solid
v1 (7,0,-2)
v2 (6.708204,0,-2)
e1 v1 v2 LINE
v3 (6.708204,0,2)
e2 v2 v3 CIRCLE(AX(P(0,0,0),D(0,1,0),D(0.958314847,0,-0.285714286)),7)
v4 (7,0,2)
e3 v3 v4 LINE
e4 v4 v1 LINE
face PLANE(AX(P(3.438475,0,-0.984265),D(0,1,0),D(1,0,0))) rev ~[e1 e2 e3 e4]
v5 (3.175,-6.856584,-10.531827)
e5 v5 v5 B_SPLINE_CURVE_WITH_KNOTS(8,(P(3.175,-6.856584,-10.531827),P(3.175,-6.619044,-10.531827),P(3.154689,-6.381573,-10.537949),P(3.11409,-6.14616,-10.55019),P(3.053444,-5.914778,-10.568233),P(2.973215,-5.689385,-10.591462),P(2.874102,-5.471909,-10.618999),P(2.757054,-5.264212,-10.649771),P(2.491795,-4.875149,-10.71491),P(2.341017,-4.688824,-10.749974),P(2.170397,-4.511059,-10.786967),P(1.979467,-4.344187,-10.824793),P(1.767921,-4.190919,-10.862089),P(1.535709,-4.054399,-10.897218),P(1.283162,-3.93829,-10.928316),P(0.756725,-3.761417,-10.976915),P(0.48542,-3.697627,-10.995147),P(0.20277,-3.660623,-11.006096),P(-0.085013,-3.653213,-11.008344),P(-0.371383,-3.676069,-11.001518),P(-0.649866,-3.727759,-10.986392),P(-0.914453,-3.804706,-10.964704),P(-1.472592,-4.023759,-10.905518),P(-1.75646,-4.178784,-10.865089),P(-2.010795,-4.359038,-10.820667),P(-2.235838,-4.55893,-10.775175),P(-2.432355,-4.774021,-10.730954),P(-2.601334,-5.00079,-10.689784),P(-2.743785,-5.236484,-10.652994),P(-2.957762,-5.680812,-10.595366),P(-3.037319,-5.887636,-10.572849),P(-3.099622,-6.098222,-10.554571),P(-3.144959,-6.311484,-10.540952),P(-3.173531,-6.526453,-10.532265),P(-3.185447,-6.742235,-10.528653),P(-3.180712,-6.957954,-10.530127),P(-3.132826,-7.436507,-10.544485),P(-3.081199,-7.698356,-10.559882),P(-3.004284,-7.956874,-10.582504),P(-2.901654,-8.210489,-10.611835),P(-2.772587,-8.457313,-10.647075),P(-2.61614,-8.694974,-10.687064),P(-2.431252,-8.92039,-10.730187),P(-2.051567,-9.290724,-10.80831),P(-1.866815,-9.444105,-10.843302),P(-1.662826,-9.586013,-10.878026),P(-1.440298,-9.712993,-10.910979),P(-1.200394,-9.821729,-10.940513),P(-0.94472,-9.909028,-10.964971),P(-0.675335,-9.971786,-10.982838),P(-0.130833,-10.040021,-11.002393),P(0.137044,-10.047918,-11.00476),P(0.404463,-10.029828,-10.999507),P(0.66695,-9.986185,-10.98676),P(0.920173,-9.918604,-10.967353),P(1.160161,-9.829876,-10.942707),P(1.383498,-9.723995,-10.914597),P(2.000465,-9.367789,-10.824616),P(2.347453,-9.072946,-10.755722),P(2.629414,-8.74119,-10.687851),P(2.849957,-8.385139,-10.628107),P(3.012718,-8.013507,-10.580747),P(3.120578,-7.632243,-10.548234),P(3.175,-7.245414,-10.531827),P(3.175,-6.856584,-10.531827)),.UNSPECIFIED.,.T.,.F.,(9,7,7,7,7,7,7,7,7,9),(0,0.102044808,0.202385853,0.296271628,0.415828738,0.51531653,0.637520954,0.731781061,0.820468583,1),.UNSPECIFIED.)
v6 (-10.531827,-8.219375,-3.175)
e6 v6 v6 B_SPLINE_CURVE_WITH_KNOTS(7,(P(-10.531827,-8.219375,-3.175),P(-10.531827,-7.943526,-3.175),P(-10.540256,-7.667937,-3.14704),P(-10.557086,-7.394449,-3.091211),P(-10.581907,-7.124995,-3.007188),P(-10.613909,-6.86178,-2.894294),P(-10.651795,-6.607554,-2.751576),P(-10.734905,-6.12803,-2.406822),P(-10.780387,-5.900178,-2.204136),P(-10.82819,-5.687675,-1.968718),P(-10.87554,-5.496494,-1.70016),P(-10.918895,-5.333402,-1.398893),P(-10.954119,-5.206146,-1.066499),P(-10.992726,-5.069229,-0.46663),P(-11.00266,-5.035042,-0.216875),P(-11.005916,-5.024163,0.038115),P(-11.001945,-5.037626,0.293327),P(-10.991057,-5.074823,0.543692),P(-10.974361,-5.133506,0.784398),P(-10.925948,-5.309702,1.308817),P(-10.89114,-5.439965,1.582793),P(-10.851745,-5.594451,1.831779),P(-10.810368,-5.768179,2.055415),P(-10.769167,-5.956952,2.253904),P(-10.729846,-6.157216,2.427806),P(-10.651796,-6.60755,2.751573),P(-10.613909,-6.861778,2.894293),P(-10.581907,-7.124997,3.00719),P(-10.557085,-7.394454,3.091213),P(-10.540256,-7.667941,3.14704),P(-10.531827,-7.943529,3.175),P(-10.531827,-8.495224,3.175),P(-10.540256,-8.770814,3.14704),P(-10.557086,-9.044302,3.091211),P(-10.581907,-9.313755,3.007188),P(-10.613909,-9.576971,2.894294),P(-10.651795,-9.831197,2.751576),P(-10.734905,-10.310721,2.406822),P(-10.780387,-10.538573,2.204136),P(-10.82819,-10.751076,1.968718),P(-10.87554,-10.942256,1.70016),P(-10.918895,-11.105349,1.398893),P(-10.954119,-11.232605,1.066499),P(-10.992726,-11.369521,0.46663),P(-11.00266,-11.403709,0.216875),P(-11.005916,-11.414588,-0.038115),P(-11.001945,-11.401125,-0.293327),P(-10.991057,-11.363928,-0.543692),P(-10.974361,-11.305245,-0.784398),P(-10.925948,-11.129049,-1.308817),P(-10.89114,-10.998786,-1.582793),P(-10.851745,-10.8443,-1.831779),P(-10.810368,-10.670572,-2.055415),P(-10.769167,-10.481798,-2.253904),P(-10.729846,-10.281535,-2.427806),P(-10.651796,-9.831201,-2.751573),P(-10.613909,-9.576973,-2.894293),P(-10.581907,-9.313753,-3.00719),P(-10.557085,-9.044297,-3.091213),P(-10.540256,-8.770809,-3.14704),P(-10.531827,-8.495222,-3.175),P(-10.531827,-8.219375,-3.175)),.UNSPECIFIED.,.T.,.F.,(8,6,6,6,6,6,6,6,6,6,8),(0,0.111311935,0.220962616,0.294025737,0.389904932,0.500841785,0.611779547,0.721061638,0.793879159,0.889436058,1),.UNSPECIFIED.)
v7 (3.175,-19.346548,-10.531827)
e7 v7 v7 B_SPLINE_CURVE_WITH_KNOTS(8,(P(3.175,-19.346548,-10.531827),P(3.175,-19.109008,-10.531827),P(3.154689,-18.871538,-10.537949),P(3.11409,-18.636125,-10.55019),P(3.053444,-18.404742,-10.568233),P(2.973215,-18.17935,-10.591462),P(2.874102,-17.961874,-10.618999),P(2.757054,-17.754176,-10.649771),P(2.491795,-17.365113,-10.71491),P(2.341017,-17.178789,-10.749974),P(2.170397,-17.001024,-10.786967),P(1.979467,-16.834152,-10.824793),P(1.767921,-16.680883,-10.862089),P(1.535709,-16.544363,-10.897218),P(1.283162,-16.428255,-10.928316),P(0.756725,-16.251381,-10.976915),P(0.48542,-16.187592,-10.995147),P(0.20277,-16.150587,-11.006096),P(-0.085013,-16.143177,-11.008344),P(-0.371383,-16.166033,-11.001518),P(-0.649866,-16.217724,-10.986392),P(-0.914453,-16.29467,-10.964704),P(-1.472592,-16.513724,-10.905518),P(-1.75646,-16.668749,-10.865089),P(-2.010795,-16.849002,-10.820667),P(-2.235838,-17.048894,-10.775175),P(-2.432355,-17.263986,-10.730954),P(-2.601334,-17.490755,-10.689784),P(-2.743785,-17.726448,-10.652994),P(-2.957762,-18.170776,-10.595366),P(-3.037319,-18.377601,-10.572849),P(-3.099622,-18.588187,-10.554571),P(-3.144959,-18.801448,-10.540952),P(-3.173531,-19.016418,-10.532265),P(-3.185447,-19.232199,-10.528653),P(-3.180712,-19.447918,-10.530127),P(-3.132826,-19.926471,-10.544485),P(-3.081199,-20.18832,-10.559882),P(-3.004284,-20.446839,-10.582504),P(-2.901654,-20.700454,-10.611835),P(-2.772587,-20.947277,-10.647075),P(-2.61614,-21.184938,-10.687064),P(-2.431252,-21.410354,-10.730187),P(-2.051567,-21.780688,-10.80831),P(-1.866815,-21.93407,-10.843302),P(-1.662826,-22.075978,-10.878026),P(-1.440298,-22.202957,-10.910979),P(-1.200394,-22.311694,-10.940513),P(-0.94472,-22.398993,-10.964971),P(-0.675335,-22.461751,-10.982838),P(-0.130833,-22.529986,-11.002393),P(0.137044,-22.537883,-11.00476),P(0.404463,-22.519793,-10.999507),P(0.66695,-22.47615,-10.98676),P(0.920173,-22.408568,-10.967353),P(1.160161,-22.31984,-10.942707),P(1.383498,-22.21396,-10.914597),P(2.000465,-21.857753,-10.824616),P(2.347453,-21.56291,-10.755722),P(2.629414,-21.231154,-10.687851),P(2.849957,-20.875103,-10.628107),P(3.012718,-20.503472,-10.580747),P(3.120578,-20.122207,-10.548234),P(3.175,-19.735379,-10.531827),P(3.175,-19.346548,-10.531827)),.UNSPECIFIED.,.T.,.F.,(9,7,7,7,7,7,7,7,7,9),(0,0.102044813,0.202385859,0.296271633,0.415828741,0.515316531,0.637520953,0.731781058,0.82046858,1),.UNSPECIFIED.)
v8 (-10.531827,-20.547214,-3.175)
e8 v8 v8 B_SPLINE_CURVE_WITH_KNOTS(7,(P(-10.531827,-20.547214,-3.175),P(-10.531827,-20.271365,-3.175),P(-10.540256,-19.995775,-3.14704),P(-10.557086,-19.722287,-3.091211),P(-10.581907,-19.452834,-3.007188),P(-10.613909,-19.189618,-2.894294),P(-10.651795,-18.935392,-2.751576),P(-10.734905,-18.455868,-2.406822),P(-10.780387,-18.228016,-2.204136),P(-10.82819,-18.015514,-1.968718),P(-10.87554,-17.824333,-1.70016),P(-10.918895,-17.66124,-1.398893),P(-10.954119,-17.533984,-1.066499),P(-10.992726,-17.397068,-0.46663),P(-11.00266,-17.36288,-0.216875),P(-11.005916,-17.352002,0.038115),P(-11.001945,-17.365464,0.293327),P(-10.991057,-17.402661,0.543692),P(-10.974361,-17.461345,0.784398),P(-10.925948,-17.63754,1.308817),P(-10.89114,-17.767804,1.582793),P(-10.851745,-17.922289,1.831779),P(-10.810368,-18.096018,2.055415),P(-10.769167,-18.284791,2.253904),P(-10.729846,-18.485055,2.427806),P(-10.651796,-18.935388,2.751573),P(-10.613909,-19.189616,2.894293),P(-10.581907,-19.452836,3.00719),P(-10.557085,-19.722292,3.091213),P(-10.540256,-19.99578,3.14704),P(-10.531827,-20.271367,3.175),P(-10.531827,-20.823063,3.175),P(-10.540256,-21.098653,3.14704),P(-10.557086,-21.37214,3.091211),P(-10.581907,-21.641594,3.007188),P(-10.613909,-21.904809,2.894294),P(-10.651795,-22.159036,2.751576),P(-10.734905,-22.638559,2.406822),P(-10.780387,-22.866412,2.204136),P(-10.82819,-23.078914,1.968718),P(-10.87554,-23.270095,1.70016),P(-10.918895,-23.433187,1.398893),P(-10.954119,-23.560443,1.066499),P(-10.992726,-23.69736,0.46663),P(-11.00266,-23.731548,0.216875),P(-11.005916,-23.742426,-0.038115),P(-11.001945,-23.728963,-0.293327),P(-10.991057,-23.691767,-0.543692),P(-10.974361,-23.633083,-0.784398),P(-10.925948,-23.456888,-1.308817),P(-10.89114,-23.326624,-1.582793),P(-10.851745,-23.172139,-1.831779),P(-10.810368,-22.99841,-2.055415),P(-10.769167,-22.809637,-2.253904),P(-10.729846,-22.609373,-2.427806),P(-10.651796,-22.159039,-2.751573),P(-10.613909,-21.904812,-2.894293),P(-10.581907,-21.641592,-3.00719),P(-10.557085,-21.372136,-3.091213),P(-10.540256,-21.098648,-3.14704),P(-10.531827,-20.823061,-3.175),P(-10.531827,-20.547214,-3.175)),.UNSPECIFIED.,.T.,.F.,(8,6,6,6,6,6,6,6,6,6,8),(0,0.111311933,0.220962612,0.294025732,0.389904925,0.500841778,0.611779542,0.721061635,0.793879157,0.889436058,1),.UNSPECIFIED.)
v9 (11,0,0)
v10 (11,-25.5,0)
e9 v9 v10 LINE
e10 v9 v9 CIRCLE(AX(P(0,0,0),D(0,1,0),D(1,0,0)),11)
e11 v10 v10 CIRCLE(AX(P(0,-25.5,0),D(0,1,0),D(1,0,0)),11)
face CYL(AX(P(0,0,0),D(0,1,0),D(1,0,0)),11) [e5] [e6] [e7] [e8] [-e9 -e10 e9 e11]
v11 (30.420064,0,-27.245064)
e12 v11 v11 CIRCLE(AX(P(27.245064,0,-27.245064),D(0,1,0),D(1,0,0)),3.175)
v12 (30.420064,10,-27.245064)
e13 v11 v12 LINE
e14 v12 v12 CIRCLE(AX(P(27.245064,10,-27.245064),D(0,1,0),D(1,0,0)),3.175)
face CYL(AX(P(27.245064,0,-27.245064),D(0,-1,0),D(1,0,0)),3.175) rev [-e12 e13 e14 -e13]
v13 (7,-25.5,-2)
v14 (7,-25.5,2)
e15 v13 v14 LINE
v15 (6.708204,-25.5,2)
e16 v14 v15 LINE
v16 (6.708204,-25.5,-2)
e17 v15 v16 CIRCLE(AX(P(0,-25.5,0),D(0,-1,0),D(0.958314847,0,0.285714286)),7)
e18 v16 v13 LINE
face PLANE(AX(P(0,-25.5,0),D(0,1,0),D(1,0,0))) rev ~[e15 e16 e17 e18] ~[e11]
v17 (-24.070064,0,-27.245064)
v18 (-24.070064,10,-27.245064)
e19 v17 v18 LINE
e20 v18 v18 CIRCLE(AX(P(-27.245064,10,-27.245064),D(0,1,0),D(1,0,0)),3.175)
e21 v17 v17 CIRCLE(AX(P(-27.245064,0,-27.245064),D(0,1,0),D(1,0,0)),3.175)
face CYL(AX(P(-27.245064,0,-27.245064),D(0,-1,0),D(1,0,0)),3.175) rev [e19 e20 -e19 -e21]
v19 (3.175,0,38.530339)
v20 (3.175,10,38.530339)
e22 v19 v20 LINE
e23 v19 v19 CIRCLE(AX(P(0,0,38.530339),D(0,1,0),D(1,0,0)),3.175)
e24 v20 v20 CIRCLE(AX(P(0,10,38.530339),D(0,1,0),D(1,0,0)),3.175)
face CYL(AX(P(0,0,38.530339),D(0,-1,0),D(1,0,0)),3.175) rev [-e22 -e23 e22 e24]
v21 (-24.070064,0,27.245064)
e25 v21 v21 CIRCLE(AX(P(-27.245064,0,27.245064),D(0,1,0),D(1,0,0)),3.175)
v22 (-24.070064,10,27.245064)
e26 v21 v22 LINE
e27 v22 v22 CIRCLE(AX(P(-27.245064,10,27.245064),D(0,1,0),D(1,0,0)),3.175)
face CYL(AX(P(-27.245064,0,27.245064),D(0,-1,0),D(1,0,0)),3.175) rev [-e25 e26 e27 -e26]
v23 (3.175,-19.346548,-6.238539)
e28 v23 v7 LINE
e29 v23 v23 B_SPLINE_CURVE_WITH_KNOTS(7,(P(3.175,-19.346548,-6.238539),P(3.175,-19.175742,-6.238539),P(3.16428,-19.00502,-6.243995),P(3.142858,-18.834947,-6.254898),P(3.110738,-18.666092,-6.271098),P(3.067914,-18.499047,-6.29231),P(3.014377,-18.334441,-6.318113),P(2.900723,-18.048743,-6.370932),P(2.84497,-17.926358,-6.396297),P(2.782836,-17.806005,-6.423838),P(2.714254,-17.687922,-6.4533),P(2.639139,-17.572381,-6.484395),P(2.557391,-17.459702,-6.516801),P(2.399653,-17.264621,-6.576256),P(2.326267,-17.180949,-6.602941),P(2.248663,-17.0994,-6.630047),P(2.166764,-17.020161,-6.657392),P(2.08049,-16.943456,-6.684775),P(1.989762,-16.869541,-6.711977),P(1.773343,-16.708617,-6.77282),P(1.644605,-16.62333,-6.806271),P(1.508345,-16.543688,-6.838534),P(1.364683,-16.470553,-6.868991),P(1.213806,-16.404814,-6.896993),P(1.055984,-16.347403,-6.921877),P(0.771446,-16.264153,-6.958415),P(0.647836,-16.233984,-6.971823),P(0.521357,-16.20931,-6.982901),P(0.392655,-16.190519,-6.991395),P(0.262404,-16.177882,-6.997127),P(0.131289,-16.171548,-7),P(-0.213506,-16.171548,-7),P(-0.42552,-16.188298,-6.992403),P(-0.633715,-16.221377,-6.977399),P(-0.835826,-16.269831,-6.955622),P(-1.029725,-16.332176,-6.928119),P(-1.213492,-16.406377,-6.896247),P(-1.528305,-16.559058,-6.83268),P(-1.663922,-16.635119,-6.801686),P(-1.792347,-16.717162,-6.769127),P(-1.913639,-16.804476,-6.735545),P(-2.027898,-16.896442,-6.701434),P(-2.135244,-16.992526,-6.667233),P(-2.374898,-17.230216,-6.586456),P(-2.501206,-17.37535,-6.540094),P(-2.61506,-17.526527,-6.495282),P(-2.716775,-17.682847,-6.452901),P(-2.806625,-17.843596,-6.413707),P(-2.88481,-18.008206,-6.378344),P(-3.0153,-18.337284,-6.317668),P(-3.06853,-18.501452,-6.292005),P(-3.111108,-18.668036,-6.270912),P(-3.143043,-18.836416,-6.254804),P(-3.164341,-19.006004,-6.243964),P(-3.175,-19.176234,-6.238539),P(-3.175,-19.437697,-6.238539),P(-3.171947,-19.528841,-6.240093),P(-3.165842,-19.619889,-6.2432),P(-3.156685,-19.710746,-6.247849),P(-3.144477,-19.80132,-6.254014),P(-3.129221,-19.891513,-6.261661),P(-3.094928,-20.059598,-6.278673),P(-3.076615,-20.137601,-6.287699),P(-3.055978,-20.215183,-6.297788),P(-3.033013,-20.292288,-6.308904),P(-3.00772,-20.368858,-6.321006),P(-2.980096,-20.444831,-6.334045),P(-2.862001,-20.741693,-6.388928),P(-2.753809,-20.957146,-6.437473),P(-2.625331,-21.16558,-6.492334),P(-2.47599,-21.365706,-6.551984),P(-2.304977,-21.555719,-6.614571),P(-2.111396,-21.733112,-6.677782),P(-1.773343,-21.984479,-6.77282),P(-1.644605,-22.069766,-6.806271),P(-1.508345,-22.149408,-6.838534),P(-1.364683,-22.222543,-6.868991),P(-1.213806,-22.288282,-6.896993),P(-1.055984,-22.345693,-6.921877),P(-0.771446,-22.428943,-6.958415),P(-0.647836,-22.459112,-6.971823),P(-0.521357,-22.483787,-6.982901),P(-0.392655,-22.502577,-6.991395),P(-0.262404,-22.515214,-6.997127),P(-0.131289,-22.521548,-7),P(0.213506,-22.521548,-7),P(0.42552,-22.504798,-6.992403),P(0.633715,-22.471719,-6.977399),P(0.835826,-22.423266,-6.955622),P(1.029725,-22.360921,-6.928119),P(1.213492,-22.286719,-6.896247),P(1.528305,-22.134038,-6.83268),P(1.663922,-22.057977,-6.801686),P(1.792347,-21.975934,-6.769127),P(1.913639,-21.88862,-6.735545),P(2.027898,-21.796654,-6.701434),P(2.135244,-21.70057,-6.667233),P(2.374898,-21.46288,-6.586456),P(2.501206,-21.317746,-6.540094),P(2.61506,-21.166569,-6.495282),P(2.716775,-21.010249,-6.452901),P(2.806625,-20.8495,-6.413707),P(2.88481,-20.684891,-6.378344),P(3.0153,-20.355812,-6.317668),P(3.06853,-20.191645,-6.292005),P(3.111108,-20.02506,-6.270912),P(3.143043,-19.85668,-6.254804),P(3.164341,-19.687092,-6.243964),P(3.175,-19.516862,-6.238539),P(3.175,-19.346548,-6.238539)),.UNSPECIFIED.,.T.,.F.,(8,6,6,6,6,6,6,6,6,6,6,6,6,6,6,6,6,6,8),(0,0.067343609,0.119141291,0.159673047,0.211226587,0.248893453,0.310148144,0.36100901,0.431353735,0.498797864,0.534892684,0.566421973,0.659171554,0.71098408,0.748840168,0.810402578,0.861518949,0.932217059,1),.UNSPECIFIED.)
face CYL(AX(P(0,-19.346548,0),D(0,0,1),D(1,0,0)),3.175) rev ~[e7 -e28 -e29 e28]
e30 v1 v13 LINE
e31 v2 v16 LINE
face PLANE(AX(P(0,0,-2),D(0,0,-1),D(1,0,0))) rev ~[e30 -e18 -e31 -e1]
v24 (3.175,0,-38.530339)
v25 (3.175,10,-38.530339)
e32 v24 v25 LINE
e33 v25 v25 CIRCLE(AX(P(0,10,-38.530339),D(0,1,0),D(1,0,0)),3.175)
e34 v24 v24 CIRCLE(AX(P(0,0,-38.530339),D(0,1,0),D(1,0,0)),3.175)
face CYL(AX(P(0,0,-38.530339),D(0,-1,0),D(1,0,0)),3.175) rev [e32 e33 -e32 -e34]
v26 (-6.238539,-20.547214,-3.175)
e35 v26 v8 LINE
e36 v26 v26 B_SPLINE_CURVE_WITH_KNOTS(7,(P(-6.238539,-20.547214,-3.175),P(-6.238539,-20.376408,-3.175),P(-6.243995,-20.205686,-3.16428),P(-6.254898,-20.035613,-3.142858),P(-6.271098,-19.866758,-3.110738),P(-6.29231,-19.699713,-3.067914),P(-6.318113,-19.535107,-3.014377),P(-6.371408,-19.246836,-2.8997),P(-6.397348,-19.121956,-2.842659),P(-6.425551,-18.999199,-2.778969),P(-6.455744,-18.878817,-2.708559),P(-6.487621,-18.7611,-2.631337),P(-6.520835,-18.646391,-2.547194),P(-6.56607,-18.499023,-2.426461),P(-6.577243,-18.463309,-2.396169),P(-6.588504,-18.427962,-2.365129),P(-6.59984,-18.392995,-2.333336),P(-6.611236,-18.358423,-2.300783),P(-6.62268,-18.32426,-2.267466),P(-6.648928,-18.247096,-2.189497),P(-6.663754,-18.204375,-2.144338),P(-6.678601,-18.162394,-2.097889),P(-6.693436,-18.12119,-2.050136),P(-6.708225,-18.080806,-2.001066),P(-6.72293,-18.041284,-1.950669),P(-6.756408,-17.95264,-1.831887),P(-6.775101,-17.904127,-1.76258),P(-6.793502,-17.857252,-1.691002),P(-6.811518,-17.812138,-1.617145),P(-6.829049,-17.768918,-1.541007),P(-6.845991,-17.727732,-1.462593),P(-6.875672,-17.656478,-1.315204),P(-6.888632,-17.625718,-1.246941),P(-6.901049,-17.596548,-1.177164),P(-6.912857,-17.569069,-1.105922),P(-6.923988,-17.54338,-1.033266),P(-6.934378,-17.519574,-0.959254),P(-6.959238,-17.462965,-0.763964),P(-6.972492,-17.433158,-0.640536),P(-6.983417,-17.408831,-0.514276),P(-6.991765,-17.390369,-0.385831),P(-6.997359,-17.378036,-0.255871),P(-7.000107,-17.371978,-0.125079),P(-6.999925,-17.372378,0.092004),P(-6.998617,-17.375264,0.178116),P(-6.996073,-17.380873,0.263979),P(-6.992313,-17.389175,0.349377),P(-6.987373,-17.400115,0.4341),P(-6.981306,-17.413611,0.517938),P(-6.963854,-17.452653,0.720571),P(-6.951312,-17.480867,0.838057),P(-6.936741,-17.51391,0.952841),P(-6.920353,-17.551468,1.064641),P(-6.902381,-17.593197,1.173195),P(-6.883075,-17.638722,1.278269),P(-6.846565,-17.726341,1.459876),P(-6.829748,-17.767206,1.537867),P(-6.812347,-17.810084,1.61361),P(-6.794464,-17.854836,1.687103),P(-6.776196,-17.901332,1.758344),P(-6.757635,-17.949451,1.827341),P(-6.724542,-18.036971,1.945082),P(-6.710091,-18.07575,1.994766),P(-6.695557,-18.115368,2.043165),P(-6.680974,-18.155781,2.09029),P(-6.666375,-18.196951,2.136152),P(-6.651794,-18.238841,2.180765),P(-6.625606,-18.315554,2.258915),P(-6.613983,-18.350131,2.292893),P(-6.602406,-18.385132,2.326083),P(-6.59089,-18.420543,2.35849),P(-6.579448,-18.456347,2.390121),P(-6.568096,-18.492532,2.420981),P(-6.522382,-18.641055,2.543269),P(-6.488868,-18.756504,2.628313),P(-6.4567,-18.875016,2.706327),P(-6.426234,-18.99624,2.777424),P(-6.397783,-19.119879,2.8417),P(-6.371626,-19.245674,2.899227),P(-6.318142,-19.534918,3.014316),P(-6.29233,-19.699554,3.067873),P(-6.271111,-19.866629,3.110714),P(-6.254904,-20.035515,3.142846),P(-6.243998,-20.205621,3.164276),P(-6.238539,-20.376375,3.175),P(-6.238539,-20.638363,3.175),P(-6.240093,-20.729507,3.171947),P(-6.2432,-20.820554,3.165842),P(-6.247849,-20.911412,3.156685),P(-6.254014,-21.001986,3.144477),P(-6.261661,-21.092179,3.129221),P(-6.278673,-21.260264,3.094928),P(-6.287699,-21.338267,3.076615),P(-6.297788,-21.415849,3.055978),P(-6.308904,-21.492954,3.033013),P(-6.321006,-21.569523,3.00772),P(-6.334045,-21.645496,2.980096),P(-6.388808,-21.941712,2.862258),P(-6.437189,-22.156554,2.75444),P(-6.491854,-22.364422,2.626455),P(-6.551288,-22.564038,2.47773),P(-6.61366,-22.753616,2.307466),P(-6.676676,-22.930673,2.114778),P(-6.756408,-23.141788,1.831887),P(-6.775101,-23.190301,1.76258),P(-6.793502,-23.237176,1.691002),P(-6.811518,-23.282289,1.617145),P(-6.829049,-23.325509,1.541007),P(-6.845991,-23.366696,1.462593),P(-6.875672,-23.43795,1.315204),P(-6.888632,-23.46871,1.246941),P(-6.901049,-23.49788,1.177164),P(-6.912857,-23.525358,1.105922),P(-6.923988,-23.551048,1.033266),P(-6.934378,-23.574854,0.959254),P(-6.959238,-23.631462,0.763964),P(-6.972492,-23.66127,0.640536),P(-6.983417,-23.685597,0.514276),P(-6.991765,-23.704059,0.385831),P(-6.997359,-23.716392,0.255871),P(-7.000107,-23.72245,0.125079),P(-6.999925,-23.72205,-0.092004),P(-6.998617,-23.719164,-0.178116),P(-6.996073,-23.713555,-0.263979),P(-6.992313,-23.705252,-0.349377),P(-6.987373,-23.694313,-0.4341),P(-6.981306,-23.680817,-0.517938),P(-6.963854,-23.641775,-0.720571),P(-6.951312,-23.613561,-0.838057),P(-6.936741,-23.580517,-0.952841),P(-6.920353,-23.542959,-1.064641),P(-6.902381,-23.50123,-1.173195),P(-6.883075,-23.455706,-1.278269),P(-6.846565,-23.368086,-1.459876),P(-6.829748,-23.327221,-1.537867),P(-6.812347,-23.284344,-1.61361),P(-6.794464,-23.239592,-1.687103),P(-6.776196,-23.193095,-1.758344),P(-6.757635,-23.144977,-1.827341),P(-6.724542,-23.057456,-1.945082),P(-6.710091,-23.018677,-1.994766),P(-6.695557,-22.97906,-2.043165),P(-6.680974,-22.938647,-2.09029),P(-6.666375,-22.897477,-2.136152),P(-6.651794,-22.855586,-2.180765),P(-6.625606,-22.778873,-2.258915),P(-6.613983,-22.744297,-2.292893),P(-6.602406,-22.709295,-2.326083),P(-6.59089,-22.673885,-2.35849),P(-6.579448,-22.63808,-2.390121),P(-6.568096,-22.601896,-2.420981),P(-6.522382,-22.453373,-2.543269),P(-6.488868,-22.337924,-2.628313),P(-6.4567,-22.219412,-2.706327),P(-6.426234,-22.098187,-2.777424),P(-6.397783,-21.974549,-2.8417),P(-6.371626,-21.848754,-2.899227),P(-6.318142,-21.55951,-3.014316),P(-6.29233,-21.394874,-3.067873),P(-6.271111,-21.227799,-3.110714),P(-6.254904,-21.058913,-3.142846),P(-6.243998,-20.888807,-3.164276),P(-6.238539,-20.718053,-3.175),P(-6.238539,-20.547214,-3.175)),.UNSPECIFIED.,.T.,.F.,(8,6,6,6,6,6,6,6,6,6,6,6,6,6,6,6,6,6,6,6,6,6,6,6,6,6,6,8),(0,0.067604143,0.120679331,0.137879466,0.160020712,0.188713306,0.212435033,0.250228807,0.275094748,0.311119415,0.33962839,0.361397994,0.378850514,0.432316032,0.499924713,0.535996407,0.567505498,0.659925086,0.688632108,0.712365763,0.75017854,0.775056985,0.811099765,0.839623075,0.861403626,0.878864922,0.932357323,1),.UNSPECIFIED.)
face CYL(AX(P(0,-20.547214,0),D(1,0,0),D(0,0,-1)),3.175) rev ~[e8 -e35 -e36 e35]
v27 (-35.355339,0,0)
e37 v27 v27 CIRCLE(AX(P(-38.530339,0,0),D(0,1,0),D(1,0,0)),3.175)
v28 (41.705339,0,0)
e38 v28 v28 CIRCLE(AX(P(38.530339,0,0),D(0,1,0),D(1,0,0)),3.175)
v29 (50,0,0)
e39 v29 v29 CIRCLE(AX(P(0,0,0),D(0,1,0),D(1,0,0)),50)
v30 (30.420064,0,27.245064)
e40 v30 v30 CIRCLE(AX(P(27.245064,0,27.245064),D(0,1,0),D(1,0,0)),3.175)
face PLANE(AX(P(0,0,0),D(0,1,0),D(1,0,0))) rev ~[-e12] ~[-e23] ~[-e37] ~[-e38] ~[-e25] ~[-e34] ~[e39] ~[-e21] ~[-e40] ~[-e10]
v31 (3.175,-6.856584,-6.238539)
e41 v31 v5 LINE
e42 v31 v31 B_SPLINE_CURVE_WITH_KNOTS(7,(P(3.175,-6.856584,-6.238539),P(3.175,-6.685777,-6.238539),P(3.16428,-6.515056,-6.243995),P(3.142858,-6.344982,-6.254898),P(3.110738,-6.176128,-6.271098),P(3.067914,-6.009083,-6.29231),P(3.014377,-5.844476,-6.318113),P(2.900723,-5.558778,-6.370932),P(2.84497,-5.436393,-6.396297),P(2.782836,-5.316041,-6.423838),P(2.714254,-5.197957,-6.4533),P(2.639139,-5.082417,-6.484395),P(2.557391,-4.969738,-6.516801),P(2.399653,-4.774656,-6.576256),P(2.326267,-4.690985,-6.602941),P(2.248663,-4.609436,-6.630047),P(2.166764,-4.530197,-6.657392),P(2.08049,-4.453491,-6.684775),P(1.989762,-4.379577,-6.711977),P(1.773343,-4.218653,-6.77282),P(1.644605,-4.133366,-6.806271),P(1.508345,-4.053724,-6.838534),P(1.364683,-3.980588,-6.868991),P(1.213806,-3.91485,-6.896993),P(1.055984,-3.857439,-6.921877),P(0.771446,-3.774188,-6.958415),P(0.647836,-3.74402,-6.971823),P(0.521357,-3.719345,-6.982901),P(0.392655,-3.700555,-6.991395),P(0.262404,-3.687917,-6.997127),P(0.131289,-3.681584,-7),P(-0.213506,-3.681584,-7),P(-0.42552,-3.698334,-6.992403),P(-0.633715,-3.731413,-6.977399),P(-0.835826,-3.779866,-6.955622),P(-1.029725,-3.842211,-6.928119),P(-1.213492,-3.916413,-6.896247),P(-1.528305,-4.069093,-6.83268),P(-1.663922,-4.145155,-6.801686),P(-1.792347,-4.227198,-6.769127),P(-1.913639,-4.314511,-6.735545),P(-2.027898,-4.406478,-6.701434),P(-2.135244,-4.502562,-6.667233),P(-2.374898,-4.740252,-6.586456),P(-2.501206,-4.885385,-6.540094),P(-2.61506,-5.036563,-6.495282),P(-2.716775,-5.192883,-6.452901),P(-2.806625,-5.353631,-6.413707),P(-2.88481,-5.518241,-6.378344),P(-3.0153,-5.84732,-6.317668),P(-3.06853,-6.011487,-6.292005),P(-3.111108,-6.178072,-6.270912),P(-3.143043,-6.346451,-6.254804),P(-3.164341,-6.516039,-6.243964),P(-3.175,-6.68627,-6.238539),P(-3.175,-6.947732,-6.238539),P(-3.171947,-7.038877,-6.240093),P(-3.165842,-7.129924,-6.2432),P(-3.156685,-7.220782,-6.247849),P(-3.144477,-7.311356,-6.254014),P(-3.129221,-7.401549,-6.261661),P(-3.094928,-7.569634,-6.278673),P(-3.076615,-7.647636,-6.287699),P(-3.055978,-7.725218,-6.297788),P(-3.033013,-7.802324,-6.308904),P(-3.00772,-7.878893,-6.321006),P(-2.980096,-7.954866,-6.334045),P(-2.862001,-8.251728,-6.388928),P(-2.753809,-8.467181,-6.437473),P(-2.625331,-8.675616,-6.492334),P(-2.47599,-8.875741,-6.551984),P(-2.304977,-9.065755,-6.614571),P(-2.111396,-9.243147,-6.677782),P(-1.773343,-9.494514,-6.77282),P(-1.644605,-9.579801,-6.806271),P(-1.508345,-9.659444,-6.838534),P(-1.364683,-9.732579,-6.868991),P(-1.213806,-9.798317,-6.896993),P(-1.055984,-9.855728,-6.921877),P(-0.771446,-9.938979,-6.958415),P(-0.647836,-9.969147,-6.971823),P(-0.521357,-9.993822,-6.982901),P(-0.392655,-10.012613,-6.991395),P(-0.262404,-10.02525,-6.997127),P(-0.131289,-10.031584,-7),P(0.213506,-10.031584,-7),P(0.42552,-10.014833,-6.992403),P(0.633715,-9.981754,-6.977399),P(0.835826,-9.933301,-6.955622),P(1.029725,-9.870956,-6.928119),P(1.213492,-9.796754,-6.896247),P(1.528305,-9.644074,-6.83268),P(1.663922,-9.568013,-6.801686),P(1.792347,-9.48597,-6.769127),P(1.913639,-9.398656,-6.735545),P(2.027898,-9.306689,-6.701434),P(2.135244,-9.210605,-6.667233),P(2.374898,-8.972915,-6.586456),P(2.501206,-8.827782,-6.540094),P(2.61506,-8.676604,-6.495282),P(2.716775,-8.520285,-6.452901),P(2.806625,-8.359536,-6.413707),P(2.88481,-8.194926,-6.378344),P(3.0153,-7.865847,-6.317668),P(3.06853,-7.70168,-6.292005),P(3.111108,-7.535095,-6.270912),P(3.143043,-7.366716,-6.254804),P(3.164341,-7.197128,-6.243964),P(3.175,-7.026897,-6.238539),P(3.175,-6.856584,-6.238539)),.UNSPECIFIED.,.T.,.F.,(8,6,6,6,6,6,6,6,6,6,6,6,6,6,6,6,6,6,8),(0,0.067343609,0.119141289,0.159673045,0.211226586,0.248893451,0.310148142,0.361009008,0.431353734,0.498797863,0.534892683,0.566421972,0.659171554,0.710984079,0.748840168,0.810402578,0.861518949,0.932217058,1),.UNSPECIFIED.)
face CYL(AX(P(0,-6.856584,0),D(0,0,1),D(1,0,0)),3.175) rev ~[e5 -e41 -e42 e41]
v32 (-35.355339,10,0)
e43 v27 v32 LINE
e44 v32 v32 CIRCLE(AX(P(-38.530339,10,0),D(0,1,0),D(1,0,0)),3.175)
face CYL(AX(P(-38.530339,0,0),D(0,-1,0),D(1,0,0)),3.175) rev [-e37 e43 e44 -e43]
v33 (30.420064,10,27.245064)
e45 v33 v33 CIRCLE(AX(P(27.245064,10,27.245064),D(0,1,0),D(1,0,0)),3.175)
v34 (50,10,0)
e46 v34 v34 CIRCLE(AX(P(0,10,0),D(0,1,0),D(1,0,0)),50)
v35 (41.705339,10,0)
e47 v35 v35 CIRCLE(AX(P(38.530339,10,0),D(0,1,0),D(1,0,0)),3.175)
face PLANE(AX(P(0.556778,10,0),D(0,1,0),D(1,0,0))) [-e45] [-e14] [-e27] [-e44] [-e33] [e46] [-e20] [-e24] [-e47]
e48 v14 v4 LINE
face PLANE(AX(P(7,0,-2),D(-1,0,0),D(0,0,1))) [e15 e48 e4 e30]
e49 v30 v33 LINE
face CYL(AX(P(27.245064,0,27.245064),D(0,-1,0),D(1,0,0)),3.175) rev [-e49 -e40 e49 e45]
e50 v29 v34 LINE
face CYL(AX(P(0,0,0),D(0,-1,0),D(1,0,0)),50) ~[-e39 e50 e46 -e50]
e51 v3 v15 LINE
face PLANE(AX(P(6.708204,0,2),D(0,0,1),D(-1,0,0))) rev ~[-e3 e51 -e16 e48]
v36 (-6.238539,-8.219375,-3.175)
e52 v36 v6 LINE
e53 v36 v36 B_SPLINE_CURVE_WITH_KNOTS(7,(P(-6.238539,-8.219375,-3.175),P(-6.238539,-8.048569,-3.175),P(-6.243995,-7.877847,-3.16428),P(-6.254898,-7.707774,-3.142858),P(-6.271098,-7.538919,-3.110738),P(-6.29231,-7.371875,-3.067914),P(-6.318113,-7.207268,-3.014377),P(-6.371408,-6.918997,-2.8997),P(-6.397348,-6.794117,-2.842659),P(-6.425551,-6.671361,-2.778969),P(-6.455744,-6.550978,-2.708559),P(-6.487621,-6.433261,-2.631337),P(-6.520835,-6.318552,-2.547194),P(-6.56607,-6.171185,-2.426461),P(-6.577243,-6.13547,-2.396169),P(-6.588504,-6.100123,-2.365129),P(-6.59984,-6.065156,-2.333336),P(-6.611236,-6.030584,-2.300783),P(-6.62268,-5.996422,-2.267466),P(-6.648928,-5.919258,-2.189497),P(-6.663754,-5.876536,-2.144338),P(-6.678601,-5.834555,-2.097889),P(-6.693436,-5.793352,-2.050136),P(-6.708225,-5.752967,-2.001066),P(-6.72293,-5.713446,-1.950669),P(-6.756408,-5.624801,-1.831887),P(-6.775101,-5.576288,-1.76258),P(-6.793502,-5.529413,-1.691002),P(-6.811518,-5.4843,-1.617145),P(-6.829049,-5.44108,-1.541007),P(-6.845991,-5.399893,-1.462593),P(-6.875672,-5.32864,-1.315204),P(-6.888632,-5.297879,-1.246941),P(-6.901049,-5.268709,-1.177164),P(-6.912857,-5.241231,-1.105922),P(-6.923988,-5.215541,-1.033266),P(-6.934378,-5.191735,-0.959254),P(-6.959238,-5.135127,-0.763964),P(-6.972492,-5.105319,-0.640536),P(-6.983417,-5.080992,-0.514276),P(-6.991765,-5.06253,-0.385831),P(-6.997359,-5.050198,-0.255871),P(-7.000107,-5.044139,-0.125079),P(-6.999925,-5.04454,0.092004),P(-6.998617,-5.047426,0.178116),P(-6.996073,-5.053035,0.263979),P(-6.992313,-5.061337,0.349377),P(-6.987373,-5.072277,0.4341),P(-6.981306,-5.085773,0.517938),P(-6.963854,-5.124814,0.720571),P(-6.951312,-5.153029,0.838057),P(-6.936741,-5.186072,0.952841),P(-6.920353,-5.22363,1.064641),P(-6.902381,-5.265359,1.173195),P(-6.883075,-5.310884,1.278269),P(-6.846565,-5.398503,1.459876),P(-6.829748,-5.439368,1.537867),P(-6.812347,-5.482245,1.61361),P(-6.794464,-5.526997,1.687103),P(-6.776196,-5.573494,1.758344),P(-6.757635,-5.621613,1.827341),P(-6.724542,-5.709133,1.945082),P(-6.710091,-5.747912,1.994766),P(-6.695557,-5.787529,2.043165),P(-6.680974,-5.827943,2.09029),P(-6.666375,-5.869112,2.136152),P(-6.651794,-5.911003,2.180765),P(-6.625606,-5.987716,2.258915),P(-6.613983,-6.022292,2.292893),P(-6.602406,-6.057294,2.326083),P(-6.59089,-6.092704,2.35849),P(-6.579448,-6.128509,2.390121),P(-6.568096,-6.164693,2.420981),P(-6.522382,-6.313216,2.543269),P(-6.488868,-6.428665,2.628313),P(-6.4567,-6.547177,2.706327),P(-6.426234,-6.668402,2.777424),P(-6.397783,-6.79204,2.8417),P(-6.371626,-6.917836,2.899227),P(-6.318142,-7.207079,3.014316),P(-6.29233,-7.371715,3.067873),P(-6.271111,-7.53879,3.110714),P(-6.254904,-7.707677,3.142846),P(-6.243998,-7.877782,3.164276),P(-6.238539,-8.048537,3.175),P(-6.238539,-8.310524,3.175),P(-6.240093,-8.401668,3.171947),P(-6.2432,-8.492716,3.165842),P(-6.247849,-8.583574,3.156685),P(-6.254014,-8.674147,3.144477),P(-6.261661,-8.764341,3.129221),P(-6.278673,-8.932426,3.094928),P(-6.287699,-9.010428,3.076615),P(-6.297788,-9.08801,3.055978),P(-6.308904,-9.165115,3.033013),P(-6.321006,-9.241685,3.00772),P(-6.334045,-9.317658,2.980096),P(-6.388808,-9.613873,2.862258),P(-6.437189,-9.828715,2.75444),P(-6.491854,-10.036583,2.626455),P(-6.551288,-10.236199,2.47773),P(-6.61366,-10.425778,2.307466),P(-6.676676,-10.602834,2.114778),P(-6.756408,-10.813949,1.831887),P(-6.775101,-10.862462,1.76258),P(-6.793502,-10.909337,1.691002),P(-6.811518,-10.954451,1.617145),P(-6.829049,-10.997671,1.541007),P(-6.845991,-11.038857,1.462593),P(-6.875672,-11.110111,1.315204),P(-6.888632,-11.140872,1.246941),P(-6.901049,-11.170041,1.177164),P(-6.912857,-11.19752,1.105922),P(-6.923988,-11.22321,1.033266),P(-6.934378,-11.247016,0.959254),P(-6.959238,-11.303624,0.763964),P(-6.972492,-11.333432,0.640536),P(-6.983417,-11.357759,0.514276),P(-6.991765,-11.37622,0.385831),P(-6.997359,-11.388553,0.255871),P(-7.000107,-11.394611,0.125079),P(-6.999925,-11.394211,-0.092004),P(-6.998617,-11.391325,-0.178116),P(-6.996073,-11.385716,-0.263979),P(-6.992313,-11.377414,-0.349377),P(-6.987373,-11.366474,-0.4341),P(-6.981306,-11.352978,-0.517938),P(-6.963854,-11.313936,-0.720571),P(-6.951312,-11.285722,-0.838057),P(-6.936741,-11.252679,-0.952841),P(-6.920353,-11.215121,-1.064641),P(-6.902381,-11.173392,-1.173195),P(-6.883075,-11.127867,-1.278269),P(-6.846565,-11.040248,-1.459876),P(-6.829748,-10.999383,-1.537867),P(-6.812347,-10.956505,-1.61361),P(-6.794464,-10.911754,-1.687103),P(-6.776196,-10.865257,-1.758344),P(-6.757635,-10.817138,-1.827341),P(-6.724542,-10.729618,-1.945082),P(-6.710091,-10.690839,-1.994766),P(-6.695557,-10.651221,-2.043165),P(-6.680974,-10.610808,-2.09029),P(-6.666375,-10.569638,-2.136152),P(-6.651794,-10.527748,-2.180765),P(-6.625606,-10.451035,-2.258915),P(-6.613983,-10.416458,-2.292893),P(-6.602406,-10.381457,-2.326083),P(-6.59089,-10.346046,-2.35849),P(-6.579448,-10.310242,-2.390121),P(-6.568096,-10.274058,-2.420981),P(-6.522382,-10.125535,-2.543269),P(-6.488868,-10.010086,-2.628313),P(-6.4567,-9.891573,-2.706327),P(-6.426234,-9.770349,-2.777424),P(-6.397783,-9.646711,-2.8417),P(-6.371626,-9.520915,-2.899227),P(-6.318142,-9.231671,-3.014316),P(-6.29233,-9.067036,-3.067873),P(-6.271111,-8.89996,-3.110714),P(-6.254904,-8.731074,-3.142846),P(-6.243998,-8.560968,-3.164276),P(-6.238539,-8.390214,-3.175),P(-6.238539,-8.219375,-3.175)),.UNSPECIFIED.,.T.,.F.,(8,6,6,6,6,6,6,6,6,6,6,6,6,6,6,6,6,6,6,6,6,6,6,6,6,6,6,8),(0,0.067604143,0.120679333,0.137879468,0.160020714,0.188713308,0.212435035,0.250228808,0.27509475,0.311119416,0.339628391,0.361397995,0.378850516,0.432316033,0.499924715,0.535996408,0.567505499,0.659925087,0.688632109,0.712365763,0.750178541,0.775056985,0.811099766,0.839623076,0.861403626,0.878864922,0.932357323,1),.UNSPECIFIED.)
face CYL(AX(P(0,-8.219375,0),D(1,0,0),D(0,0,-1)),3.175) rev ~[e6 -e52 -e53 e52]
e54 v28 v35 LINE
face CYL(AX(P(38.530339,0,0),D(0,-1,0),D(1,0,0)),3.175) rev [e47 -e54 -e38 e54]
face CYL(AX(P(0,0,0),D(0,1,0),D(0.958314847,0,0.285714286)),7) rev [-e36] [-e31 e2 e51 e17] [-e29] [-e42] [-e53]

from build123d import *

# Parameters (mm, degrees)
SKETCH_1_R          = 50
SKETCH_1_R_2        = 3.175
EXTRUDE_1_DEPTH     = 10
SKETCH_1_8_R        = 11
EXTRUDE_2_DEPTH     = 25.5
SKETCH_4_R          = 3.175
CUT_EXTRUDE_1_DEPTH = 30
SKETCH_2_R          = 3.175
CUT_EXTRUDE_2_DEPTH = 30
EXTRUDE_3_DEPTH     = 10
EXTRUDE_4_DEPTH     = 10


with BuildPart() as part:
    # Sketch 1 → Extrude 1 (new body)
    with BuildSketch(Plane(origin=(0, 0, 0), x_dir=(1, 0, 0), z_dir=(0, 1, 0))):
        Circle(SKETCH_1_R)
        with BuildLine():
            Line((7, -2), (6.708203932, -2))
            ThreePointArc((6.708203932, -2), (-7, 0), (6.708203932, 2))
            Line((6.708203932, 2), (7, 2))
            Line((7, 2), (7, -2))
        make_face(mode=Mode.SUBTRACT)
        with Locations((0, -38.530339059)):
            Circle(SKETCH_1_R_2, mode=Mode.SUBTRACT)
        with Locations((0, 38.530339059)):
            Circle(SKETCH_1_R_2, mode=Mode.SUBTRACT)
        with Locations((-38.530339059, 0)):
            Circle(SKETCH_1_R_2, mode=Mode.SUBTRACT)
        with Locations((38.530339059, 0)):
            Circle(SKETCH_1_R_2, mode=Mode.SUBTRACT)
        with Locations((-27.24506403, -27.24506403)):
            Circle(SKETCH_1_R_2, mode=Mode.SUBTRACT)
        with Locations((27.24506403, -27.24506403)):
            Circle(SKETCH_1_R_2, mode=Mode.SUBTRACT)
        with Locations((27.24506403, 27.24506403)):
            Circle(SKETCH_1_R_2, mode=Mode.SUBTRACT)
        with Locations((-27.24506403, 27.24506403)):
            Circle(SKETCH_1_R_2, mode=Mode.SUBTRACT)
    extrude(amount=EXTRUDE_1_DEPTH)

    # Sketch 1_8 → Extrude 2 (add)
    with BuildSketch(Plane(origin=(0, 0, 0), x_dir=(1, 0, 0), z_dir=(0, 1, 0))):
        Circle(SKETCH_1_8_R)
        with BuildLine():
            Line((7, -2), (6.708203932, -2))
            ThreePointArc((6.708203932, -2), (-7, 0), (6.708203932, 2))
            Line((6.708203932, 2), (7, 2))
            Line((7, 2), (7, -2))
        make_face(mode=Mode.SUBTRACT)
    extrude(amount=-EXTRUDE_2_DEPTH)

    # Sketch 4 → Cut-Extrude 1 (cut)
    with BuildSketch(Plane(origin=(0, 0, 0), x_dir=(0, 0, -1), z_dir=(1, 0, 0))):
        with Locations((0, -8.219375354)):
            Circle(SKETCH_4_R)
        with Locations((0, -20.547213865)):
            Circle(SKETCH_4_R)
    extrude(amount=-CUT_EXTRUDE_1_DEPTH, mode=Mode.SUBTRACT)

    # Sketch 2 → Cut-Extrude 2 (cut)
    with BuildSketch(Plane.XY):
        with Locations((0, -6.856583625)):
            Circle(SKETCH_2_R)
        with Locations((0, -19.346548073)):
            Circle(SKETCH_2_R)
    extrude(amount=-CUT_EXTRUDE_2_DEPTH, mode=Mode.SUBTRACT)

    # Sketch 1_9 → Extrude 3 (add)
    with BuildSketch(Plane(origin=(0, 0, 0), x_dir=(1, 0, 0), z_dir=(0, 1, 0))):
        with BuildLine():
            Line((6.708203932, -2), (0, -2))
            Line((0, -2), (0, 2))
            Line((0, 2), (6.708203932, 2))
            ThreePointArc((6.708203932, 2), (-7, 0), (6.708203932, -2))
        make_face()
    extrude(amount=EXTRUDE_3_DEPTH)

    # Sketch 1_10 → Extrude 4 (add)
    with BuildSketch(Plane(origin=(0, 0, 0), x_dir=(1, 0, 0), z_dir=(0, 1, 0))):
        with BuildLine():
            Line((0, 2), (0, 0))
            Line((0, 0), (7, 0))
            ThreePointArc((7, 0), (6.926666858, 1.010587075), (6.708203932, 2))
            Line((6.708203932, 2), (0, 2))
        make_face()
        with BuildLine():
            Line((0, 0), (0, -2))
            Line((0, -2), (6.708203932, -2))
            ThreePointArc((6.708203932, -2), (6.926666858, -1.010587075), (7, 0))
            Line((7, 0), (0, 0))
        make_face()
        with BuildLine():
            ThreePointArc((7, 0), (6.926666858, -1.010587075), (6.708203932, -2))
            Line((6.708203932, -2), (7, -2))
            Line((7, -2), (7, 0))
        make_face()
        with BuildLine():
            ThreePointArc((6.708203932, 2), (6.926666858, 1.010587075), (7, 0))
            Line((7, 0), (7, 2))
            Line((7, 2), (6.708203932, 2))
        make_face()
    extrude(amount=EXTRUDE_4_DEPTH)


solid = part.part
